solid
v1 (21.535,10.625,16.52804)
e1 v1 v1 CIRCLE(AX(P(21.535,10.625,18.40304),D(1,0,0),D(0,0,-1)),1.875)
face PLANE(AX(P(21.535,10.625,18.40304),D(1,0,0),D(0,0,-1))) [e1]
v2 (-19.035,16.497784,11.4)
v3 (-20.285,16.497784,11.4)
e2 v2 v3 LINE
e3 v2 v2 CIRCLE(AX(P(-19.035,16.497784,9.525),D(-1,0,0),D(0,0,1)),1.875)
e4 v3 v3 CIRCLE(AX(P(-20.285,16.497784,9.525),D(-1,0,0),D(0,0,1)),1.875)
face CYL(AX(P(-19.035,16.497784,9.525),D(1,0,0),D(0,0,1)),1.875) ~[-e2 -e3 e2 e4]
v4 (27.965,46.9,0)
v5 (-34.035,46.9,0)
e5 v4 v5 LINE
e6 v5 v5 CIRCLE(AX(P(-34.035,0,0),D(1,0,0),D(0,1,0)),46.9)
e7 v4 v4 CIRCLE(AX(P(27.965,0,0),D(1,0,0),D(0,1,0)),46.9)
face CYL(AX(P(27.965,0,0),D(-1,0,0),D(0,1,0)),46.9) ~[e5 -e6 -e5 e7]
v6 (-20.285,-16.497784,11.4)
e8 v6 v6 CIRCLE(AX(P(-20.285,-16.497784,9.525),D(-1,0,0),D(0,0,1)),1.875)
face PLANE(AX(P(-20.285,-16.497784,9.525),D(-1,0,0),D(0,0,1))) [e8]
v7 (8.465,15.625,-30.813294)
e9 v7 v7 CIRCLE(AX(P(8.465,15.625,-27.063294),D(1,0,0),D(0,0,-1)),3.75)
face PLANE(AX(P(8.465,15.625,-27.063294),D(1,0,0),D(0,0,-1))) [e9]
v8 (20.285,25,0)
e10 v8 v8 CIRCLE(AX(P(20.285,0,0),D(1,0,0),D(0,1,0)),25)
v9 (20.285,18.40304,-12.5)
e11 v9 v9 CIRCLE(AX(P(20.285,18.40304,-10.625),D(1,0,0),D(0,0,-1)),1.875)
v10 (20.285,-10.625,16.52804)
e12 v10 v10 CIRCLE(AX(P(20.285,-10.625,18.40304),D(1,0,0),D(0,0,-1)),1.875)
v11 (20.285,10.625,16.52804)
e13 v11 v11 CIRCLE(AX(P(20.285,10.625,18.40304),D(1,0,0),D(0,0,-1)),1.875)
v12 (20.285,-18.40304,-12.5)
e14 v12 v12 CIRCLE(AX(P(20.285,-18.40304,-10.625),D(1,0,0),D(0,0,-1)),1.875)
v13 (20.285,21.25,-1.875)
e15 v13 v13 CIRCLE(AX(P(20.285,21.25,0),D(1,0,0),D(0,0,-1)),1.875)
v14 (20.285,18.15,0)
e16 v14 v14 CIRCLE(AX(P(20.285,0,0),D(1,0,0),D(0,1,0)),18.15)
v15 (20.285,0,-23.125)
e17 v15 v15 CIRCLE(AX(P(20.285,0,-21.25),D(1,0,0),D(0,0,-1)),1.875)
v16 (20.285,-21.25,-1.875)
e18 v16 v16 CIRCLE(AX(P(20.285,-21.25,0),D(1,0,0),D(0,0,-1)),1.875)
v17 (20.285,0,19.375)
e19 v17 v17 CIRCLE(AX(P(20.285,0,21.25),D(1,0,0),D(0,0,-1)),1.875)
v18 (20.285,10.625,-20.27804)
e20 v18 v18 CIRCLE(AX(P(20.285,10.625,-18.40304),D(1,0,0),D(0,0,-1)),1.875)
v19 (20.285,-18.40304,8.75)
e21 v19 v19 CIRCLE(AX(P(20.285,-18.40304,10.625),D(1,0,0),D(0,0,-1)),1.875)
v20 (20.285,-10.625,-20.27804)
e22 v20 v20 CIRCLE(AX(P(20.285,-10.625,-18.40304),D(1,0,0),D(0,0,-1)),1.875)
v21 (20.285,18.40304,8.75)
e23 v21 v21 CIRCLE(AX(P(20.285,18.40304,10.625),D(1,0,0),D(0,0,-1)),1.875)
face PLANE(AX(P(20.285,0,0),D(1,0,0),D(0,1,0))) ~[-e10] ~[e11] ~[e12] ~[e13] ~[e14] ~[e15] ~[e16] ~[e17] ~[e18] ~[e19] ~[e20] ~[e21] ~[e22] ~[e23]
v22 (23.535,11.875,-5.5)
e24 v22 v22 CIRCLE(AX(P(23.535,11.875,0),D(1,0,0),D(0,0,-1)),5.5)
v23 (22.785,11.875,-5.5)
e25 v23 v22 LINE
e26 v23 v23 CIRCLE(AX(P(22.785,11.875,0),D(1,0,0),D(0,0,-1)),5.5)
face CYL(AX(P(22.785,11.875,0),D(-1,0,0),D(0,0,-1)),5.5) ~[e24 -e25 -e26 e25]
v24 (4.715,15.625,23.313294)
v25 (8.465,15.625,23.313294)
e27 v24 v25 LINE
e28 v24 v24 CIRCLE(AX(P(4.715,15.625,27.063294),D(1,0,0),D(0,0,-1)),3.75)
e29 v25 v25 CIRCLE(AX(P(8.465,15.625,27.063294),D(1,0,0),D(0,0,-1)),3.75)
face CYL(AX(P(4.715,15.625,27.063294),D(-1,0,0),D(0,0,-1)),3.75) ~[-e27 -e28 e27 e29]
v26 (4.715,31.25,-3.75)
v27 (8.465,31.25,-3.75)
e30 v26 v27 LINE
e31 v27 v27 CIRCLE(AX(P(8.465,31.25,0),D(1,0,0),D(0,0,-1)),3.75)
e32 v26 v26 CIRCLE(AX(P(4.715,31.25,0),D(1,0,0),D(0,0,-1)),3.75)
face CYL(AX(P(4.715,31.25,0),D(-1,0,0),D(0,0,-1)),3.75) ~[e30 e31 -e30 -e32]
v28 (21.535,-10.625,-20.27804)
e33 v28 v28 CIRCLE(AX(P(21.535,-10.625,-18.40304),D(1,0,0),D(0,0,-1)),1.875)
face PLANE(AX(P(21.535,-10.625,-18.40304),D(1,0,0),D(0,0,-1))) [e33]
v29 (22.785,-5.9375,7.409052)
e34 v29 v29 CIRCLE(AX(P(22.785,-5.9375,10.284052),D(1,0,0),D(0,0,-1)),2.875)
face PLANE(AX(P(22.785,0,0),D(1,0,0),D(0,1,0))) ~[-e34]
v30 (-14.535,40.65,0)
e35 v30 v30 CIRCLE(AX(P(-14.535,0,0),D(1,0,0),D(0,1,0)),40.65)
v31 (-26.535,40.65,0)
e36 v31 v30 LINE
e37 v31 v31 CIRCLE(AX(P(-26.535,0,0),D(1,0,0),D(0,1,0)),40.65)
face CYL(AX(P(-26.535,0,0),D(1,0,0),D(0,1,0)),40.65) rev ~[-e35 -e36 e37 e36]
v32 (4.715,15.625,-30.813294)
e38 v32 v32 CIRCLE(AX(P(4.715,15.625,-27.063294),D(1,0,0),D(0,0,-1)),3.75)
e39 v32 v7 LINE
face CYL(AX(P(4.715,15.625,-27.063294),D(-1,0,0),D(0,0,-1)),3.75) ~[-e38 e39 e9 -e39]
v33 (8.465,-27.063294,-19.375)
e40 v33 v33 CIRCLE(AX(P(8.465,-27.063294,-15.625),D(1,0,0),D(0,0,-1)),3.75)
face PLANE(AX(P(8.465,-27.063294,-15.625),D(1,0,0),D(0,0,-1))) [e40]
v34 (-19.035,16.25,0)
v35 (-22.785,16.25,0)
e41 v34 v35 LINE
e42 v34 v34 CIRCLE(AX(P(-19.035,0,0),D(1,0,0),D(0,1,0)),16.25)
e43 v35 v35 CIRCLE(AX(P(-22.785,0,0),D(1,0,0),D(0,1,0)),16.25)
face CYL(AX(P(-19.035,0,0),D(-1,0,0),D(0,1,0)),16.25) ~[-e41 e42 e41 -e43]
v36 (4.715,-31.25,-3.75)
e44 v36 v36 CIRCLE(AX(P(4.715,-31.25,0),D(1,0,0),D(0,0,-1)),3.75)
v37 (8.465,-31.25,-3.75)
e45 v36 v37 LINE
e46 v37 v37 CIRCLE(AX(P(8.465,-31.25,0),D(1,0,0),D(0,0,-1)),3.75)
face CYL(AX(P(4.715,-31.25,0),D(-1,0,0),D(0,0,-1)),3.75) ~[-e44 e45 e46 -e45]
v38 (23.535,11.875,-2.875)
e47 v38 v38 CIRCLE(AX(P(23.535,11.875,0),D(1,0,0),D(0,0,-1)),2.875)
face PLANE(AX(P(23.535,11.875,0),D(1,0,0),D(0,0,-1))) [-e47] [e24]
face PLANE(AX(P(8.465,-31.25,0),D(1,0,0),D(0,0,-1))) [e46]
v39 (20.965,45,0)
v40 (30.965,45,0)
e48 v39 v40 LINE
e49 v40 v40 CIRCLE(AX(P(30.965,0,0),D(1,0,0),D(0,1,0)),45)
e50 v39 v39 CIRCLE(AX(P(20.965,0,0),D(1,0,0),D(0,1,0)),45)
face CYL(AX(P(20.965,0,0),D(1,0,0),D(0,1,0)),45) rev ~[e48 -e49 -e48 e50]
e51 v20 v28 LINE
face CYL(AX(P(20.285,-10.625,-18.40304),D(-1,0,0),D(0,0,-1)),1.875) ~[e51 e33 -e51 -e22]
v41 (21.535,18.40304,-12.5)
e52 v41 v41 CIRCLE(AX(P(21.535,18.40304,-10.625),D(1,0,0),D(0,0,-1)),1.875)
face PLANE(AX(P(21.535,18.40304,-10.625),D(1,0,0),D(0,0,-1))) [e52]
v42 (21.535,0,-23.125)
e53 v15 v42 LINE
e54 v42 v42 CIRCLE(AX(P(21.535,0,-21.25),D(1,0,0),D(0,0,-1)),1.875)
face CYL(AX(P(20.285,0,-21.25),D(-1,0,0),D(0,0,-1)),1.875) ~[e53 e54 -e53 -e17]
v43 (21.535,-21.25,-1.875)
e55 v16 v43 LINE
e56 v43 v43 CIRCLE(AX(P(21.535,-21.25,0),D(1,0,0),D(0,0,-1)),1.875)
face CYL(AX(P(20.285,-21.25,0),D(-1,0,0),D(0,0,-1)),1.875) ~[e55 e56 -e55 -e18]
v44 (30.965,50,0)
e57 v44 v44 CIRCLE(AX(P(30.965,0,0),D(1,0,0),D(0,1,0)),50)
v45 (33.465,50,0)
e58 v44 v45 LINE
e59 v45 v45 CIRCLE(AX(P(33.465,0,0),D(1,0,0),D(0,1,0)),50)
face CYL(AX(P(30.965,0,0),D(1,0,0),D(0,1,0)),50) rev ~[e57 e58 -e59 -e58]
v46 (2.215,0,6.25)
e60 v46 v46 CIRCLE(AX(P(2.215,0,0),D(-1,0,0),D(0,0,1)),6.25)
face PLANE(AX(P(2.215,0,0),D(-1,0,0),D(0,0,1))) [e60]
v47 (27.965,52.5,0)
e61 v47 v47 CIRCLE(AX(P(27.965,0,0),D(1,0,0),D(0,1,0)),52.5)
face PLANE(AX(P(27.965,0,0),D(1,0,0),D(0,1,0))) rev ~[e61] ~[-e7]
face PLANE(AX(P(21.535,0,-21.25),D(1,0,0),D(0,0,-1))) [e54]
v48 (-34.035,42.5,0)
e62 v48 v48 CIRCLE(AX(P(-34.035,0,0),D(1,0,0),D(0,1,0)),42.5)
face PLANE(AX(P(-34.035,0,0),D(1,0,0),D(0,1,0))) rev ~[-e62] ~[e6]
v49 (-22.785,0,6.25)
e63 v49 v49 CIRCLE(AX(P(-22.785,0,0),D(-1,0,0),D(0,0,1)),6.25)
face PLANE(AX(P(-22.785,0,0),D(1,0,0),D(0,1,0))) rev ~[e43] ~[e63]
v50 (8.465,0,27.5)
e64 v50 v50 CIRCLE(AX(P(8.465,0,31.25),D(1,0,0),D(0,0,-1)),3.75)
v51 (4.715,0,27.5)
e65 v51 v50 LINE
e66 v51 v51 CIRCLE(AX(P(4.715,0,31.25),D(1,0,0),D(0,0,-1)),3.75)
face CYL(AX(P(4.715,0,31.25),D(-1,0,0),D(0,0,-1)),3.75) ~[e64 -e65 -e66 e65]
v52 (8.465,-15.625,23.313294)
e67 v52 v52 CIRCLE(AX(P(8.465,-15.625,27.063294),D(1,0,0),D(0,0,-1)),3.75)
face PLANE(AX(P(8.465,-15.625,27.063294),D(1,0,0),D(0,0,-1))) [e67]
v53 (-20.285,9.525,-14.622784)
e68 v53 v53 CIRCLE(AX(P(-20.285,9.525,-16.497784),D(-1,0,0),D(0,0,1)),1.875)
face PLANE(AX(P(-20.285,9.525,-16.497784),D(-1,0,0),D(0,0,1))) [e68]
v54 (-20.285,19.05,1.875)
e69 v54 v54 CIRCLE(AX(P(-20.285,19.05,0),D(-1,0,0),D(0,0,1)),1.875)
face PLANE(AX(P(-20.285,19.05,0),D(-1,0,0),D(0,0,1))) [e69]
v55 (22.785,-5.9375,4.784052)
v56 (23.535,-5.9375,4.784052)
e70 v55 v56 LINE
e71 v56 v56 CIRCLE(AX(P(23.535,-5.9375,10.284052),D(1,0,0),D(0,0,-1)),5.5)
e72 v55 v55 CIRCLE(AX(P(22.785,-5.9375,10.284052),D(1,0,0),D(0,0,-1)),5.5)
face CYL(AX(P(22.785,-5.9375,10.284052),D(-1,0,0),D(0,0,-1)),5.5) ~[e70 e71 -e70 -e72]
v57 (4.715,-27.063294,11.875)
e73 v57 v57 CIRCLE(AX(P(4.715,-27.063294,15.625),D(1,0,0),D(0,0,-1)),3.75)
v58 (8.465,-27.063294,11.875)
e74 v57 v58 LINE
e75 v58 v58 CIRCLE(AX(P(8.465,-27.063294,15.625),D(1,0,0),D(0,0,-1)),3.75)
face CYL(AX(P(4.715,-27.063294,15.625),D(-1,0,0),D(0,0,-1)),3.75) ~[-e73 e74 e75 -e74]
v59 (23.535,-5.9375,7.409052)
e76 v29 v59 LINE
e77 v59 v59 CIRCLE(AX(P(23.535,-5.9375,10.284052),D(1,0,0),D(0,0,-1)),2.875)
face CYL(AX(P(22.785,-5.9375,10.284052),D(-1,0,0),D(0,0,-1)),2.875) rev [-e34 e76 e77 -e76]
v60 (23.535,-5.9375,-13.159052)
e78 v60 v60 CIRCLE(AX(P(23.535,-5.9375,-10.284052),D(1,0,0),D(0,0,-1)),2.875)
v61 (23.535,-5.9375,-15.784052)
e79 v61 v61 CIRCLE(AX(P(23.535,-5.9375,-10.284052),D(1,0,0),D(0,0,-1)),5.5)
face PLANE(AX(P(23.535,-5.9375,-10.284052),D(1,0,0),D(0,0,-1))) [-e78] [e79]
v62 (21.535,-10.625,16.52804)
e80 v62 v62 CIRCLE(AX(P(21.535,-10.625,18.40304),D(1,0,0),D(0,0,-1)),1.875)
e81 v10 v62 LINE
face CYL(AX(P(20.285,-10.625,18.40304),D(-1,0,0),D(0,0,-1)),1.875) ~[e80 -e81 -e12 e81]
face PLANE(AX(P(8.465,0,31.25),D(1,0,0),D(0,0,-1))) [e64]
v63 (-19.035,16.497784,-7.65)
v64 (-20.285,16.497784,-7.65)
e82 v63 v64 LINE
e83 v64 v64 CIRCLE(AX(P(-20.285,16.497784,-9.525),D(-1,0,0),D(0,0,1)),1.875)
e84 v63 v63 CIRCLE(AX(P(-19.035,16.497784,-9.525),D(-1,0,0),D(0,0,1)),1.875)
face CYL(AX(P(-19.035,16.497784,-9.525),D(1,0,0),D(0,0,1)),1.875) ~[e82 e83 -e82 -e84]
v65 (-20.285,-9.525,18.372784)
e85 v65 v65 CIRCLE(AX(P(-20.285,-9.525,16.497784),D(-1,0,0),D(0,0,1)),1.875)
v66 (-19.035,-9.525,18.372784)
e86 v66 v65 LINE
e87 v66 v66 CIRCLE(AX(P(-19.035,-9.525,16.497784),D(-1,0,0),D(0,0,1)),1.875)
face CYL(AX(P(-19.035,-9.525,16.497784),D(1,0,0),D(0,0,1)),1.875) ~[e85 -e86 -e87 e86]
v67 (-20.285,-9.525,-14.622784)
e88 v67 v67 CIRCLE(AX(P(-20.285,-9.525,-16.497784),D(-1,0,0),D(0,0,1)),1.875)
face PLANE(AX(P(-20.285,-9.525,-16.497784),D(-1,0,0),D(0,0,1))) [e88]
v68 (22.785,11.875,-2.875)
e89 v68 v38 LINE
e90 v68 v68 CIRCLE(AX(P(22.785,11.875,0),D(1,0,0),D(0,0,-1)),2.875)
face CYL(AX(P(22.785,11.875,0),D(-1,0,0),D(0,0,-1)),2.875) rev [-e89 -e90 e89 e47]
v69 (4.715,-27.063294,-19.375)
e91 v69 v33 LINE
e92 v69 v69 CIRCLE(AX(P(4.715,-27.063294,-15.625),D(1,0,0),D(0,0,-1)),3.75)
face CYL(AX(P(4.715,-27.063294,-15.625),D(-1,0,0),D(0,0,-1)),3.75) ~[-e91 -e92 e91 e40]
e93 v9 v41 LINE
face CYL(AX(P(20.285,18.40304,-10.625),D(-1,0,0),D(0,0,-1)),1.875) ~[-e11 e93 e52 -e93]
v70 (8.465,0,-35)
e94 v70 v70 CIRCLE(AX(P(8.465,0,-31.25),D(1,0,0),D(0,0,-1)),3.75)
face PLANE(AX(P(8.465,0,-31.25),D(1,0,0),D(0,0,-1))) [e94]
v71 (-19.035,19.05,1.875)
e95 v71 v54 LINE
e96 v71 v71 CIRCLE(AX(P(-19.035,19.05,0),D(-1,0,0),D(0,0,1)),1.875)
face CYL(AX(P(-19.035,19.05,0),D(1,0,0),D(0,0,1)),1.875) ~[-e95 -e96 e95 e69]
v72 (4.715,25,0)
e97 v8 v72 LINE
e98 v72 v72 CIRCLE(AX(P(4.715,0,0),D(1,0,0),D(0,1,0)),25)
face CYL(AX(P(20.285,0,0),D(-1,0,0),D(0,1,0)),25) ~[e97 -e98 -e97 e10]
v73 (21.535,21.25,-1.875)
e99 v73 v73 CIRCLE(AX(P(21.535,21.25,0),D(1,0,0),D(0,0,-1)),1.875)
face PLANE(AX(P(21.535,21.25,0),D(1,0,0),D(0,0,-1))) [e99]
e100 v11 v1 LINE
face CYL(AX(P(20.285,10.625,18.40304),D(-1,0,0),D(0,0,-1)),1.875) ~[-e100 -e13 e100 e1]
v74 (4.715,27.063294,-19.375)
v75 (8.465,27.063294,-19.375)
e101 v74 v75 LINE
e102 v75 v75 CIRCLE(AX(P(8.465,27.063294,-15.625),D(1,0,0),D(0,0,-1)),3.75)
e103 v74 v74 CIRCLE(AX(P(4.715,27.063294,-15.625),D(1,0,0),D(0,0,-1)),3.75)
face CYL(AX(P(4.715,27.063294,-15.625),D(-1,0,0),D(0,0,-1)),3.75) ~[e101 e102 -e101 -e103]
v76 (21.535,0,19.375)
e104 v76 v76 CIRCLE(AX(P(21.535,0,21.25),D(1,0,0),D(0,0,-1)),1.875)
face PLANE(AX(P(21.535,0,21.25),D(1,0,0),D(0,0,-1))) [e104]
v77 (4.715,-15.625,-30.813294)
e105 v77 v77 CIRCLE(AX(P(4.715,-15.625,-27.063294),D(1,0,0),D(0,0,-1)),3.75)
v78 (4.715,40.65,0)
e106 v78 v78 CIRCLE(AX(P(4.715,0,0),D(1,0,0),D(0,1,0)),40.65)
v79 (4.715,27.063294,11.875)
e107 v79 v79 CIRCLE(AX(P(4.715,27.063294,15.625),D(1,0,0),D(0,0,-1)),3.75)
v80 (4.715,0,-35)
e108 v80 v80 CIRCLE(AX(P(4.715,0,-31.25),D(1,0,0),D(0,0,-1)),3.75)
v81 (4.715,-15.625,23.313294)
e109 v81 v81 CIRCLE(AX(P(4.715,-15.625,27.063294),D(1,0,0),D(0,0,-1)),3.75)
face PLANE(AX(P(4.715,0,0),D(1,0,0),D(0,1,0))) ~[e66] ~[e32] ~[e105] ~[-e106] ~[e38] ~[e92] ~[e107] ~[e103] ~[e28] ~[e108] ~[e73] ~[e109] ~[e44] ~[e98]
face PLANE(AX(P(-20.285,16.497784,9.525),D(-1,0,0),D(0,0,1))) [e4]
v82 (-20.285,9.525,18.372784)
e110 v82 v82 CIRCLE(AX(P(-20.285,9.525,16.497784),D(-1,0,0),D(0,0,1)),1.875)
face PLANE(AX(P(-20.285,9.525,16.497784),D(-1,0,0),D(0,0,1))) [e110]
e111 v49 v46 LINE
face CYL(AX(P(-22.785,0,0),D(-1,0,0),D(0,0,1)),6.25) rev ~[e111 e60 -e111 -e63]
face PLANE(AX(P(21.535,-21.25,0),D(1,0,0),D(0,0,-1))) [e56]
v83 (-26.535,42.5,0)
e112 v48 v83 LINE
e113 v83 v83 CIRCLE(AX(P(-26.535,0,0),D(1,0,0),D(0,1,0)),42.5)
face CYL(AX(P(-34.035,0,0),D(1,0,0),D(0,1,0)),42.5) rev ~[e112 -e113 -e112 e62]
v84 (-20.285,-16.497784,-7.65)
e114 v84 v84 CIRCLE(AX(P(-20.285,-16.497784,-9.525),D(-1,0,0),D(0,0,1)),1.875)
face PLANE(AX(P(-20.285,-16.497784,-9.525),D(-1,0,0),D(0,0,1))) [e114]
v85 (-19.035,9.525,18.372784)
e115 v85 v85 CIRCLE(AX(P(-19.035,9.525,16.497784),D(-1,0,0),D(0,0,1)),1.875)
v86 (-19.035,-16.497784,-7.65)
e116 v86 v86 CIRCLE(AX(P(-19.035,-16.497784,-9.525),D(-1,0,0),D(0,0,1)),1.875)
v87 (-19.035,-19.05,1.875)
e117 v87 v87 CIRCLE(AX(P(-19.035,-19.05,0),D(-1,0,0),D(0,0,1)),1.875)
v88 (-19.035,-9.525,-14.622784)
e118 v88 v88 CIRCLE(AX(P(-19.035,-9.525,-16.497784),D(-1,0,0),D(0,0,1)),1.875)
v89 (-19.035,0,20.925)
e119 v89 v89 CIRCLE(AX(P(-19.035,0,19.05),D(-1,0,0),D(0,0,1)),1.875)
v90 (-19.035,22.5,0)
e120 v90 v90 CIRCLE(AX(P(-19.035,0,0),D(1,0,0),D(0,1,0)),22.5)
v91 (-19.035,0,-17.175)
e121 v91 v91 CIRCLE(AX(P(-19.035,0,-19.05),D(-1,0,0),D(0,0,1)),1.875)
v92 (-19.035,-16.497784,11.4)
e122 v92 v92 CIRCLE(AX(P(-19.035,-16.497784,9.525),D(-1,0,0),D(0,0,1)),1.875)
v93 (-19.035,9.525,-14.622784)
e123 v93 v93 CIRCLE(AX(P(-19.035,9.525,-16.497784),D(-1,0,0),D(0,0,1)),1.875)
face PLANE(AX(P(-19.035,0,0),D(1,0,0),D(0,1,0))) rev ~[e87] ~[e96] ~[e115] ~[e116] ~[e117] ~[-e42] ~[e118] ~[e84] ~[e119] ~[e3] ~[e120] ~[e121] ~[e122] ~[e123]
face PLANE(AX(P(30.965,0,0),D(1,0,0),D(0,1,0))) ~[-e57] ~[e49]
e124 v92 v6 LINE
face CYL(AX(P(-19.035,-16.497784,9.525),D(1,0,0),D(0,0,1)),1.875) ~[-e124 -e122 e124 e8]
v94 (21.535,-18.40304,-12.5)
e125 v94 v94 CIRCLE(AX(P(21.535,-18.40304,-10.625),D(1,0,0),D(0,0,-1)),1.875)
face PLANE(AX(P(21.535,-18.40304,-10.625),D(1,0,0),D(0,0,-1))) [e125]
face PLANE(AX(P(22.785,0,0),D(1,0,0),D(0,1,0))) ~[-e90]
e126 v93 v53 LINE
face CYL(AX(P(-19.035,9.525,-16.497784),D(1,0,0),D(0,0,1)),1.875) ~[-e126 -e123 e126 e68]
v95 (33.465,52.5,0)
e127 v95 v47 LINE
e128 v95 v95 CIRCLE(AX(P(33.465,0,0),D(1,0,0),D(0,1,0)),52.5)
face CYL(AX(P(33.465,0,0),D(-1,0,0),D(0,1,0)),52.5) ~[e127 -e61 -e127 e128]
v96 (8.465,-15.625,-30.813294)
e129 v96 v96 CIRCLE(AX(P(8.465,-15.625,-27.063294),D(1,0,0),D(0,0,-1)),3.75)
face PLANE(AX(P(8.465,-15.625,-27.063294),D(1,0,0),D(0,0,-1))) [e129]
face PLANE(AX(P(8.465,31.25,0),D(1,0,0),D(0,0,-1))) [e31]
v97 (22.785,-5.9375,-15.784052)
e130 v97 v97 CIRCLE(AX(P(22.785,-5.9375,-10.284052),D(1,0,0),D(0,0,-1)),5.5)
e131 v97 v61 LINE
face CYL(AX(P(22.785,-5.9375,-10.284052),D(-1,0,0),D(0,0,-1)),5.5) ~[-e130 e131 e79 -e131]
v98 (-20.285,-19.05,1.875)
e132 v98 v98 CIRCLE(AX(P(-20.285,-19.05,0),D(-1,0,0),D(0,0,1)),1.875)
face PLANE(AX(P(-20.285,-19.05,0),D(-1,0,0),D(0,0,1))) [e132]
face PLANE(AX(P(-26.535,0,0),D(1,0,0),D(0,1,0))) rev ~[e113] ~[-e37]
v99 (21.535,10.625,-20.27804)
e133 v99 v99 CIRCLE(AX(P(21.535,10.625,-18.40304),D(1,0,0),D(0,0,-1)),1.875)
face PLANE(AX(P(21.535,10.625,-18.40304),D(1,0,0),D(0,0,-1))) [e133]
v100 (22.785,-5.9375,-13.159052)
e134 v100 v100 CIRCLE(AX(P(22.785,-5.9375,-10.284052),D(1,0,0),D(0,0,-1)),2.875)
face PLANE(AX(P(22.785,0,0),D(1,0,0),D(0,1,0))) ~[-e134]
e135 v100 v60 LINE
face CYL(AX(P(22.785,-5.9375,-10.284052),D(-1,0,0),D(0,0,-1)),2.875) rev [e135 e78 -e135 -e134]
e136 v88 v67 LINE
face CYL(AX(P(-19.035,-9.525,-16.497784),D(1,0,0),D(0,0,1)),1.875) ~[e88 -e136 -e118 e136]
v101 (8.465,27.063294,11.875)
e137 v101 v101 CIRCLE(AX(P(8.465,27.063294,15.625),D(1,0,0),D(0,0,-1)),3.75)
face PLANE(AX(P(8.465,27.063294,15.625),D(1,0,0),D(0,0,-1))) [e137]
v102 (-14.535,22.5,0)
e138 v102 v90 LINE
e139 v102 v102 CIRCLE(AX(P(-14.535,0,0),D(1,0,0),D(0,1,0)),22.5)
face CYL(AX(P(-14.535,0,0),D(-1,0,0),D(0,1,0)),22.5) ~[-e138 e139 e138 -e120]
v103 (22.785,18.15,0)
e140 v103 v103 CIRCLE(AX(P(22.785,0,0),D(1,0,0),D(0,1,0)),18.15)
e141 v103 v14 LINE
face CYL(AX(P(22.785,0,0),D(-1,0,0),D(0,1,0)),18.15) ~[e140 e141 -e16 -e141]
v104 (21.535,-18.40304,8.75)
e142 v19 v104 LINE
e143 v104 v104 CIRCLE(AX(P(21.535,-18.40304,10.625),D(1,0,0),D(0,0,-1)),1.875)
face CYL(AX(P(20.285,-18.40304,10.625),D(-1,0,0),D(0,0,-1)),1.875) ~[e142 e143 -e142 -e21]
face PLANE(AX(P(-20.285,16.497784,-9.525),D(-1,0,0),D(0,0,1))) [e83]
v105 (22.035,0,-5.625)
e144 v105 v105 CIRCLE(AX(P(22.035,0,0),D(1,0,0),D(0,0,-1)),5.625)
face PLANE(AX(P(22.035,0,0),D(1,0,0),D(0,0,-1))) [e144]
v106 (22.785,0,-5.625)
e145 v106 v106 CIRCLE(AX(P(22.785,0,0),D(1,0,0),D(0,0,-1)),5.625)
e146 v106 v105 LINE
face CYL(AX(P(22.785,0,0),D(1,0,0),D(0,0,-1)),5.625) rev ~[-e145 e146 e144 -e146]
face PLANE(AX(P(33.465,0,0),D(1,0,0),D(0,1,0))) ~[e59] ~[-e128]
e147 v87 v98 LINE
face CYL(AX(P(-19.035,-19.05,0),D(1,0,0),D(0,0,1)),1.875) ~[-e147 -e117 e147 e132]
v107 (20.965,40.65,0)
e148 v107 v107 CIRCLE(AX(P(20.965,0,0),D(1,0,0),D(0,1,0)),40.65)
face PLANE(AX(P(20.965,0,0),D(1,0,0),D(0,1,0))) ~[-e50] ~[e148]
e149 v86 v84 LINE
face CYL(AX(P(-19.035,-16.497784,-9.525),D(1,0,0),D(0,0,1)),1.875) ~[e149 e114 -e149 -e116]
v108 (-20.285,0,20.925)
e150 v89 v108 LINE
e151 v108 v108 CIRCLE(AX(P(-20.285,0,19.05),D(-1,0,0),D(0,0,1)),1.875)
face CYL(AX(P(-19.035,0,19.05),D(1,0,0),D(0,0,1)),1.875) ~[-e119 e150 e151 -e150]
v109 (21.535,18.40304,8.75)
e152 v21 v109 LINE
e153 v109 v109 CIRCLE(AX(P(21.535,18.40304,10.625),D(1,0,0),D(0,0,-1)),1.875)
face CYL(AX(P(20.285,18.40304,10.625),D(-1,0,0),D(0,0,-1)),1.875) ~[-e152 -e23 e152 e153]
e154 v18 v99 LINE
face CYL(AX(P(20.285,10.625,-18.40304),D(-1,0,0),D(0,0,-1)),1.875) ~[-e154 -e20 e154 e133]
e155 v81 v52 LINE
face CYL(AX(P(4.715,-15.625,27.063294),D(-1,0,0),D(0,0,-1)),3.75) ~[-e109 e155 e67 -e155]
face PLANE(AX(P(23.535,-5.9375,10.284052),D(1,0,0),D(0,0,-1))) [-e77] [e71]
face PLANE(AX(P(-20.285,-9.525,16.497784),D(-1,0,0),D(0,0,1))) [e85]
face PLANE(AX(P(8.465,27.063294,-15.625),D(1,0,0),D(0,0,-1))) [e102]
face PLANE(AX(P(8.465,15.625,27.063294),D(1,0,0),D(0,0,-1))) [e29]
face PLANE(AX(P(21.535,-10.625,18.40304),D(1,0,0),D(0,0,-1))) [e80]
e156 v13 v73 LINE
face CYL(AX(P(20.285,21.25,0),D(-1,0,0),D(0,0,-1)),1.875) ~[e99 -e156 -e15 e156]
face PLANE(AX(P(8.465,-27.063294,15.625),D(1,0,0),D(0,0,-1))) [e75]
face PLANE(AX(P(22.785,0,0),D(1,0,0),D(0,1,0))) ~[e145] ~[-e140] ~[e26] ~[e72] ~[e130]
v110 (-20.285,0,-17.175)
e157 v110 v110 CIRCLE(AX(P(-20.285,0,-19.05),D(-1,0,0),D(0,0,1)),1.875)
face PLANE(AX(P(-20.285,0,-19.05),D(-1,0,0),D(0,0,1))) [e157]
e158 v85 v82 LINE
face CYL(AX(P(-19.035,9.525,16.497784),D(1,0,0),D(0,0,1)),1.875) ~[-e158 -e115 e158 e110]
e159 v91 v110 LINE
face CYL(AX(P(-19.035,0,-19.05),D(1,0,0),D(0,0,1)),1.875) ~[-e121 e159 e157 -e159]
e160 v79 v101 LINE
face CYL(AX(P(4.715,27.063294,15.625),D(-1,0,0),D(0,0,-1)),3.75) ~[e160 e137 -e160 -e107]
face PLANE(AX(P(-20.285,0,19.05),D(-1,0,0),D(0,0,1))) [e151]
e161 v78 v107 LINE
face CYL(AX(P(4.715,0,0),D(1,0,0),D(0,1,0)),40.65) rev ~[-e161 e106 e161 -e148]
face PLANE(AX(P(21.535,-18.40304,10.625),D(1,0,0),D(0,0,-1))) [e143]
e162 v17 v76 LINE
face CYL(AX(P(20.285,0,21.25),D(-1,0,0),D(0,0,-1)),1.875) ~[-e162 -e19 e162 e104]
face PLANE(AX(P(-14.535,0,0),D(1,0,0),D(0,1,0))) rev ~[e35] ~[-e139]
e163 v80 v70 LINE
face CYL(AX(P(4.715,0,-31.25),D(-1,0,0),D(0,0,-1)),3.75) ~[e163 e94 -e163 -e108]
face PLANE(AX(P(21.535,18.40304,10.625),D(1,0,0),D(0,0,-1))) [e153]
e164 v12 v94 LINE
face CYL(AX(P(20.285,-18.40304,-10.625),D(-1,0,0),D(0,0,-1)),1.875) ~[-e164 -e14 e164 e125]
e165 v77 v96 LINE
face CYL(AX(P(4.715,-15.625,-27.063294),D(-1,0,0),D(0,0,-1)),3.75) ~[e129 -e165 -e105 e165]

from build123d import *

# Parameters (mm, degrees)
SKETCH2_R           = 3.75
BOSS_EXTRUDE1_DEPTH = 3.75
SKETCH3_R           = 1.875
BOSS_EXTRUDE2_DEPTH = 1.25
SKETCH4_R           = 5.625
CUT_EXTRUDE1_DEPTH  = 0.75
SKETCH5_R           = 5.5
SKETCH5_R_2         = 2.875
BOSS_EXTRUDE3_DEPTH = 0.75
SKETCH7_R           = 1.875
BOSS_EXTRUDE4_DEPTH = 1.25
SKETCH8_R           = 6.25
CUT_EXTRUDE2_DEPTH  = 25


with BuildPart() as part:
    # Sketch1 → Revolve1 (revolve)
    with BuildSketch(Plane.XY):
        Polygon((-22.785, 0), (22.785, 0), (22.785, 18.15), (20.285, 18.15), (20.285, 25), (4.715, 25), (4.715, 40.65), (20.965, 40.65), (20.965, 45), (30.965, 45), (30.965, 50), (33.465, 50), (33.465, 52.5), (27.965, 52.5), (27.965, 46.9), (-34.035, 46.9), (-34.035, 42.5), (-26.535, 42.5), (-26.535, 40.65), (-14.535, 40.65), (-14.535, 22.5), (-19.035, 22.5), (-19.035, 16.25), (-22.785, 16.25), align=None)
    revolve(axis=Axis((-22.785, 0, 0), (1, 0, 0)))

    # Sketch2 → Boss-Extrude1 (add)
    with BuildSketch(Plane(origin=(4.715, 0, 0), x_dir=(0, 0, -1), z_dir=(1, 0, 0))):
        with Locations((0, 31.25)):
            Circle(SKETCH2_R)
        with Locations((15.625, 27.063293868)):
            Circle(SKETCH2_R)
        with Locations((27.063293868, 15.625)):
            Circle(SKETCH2_R)
        with Locations((31.25, 0)):
            Circle(SKETCH2_R)
        with Locations((27.063293868, -15.625)):
            Circle(SKETCH2_R)
        with Locations((15.625, -27.063293868)):
            Circle(SKETCH2_R)
        with Locations((0, -31.25)):
            Circle(SKETCH2_R)
        with Locations((-15.625, -27.063293868)):
            Circle(SKETCH2_R)
        with Locations((-27.063293868, -15.625)):
            Circle(SKETCH2_R)
        with Locations((-31.25, 0)):
            Circle(SKETCH2_R)
        with Locations((-27.063293868, 15.625)):
            Circle(SKETCH2_R)
        with Locations((-15.625, 27.063293868)):
            Circle(SKETCH2_R)
    extrude(amount=BOSS_EXTRUDE1_DEPTH)

    # Sketch3 → Boss-Extrude2 (add)
    with BuildSketch(Plane(origin=(20.285, 0, 0), x_dir=(0, 0, -1), z_dir=(1, 0, 0))):
        with Locations((0, 21.25)):
            Circle(SKETCH3_R)
        with Locations((10.625, 18.40303983)):
            Circle(SKETCH3_R)
        with Locations((18.40303983, 10.625)):
            Circle(SKETCH3_R)
        with Locations((21.25, 0)):
            Circle(SKETCH3_R)
        with Locations((18.40303983, -10.625)):
            Circle(SKETCH3_R)
        with Locations((10.625, -18.40303983)):
            Circle(SKETCH3_R)
        with Locations((0, -21.25)):
            Circle(SKETCH3_R)
        with Locations((-10.625, -18.40303983)):
            Circle(SKETCH3_R)
        with Locations((-18.40303983, -10.625)):
            Circle(SKETCH3_R)
        with Locations((-21.25, 0)):
            Circle(SKETCH3_R)
        with Locations((-18.40303983, 10.625)):
            Circle(SKETCH3_R)
        with Locations((-10.625, 18.40303983)):
            Circle(SKETCH3_R)
    extrude(amount=BOSS_EXTRUDE2_DEPTH)

    # Sketch4 → Cut-Extrude1 (cut)
    with BuildSketch(Plane(origin=(22.785, 0, 0), x_dir=(0, 0, -1), z_dir=(1, 0, 0))):
        Circle(SKETCH4_R)
    extrude(amount=-CUT_EXTRUDE1_DEPTH, mode=Mode.SUBTRACT)

    # Sketch5 → Boss-Extrude3 (add)
    with BuildSketch(Plane(origin=(22.785, 0, 0), x_dir=(0, 0, -1), z_dir=(1, 0, 0))):
        with Locations((0, 11.875)):
            Circle(SKETCH5_R)
        with Locations((0, 11.875)):
            Circle(SKETCH5_R_2, mode=Mode.SUBTRACT)
        with Locations((10.28405167, -5.9375)):
            Circle(SKETCH5_R)
        with Locations((10.28405167, -5.9375)):
            Circle(SKETCH5_R_2, mode=Mode.SUBTRACT)
        with Locations((-10.28405167, -5.9375)):
            Circle(SKETCH5_R)
        with Locations((-10.28405167, -5.9375)):
            Circle(SKETCH5_R_2, mode=Mode.SUBTRACT)
    extrude(amount=BOSS_EXTRUDE3_DEPTH)

    # Sketch7 → Boss-Extrude4 (add)
    with BuildSketch(Plane.ZY.offset(19.035)):
        with Locations((0, 19.05)):
            Circle(SKETCH7_R)
        with Locations((9.525, 16.497783942)):
            Circle(SKETCH7_R)
        with Locations((16.497783942, 9.525)):
            Circle(SKETCH7_R)
        with Locations((19.05, 0)):
            Circle(SKETCH7_R)
        with Locations((16.497783942, -9.525)):
            Circle(SKETCH7_R)
        with Locations((9.525, -16.497783942)):
            Circle(SKETCH7_R)
        with Locations((0, -19.05)):
            Circle(SKETCH7_R)
        with Locations((-9.525, -16.497783942)):
            Circle(SKETCH7_R)
        with Locations((-16.497783942, -9.525)):
            Circle(SKETCH7_R)
        with Locations((-19.05, 0)):
            Circle(SKETCH7_R)
        with Locations((-16.497783942, 9.525)):
            Circle(SKETCH7_R)
        with Locations((-9.525, 16.497783942)):
            Circle(SKETCH7_R)
    extrude(amount=BOSS_EXTRUDE4_DEPTH)

    # Sketch8 → Cut-Extrude2 (cut)
    with BuildSketch(Plane.ZY.offset(22.785)):
        Circle(SKETCH8_R)
    extrude(amount=-CUT_EXTRUDE2_DEPTH, mode=Mode.SUBTRACT)


solid = part.part
